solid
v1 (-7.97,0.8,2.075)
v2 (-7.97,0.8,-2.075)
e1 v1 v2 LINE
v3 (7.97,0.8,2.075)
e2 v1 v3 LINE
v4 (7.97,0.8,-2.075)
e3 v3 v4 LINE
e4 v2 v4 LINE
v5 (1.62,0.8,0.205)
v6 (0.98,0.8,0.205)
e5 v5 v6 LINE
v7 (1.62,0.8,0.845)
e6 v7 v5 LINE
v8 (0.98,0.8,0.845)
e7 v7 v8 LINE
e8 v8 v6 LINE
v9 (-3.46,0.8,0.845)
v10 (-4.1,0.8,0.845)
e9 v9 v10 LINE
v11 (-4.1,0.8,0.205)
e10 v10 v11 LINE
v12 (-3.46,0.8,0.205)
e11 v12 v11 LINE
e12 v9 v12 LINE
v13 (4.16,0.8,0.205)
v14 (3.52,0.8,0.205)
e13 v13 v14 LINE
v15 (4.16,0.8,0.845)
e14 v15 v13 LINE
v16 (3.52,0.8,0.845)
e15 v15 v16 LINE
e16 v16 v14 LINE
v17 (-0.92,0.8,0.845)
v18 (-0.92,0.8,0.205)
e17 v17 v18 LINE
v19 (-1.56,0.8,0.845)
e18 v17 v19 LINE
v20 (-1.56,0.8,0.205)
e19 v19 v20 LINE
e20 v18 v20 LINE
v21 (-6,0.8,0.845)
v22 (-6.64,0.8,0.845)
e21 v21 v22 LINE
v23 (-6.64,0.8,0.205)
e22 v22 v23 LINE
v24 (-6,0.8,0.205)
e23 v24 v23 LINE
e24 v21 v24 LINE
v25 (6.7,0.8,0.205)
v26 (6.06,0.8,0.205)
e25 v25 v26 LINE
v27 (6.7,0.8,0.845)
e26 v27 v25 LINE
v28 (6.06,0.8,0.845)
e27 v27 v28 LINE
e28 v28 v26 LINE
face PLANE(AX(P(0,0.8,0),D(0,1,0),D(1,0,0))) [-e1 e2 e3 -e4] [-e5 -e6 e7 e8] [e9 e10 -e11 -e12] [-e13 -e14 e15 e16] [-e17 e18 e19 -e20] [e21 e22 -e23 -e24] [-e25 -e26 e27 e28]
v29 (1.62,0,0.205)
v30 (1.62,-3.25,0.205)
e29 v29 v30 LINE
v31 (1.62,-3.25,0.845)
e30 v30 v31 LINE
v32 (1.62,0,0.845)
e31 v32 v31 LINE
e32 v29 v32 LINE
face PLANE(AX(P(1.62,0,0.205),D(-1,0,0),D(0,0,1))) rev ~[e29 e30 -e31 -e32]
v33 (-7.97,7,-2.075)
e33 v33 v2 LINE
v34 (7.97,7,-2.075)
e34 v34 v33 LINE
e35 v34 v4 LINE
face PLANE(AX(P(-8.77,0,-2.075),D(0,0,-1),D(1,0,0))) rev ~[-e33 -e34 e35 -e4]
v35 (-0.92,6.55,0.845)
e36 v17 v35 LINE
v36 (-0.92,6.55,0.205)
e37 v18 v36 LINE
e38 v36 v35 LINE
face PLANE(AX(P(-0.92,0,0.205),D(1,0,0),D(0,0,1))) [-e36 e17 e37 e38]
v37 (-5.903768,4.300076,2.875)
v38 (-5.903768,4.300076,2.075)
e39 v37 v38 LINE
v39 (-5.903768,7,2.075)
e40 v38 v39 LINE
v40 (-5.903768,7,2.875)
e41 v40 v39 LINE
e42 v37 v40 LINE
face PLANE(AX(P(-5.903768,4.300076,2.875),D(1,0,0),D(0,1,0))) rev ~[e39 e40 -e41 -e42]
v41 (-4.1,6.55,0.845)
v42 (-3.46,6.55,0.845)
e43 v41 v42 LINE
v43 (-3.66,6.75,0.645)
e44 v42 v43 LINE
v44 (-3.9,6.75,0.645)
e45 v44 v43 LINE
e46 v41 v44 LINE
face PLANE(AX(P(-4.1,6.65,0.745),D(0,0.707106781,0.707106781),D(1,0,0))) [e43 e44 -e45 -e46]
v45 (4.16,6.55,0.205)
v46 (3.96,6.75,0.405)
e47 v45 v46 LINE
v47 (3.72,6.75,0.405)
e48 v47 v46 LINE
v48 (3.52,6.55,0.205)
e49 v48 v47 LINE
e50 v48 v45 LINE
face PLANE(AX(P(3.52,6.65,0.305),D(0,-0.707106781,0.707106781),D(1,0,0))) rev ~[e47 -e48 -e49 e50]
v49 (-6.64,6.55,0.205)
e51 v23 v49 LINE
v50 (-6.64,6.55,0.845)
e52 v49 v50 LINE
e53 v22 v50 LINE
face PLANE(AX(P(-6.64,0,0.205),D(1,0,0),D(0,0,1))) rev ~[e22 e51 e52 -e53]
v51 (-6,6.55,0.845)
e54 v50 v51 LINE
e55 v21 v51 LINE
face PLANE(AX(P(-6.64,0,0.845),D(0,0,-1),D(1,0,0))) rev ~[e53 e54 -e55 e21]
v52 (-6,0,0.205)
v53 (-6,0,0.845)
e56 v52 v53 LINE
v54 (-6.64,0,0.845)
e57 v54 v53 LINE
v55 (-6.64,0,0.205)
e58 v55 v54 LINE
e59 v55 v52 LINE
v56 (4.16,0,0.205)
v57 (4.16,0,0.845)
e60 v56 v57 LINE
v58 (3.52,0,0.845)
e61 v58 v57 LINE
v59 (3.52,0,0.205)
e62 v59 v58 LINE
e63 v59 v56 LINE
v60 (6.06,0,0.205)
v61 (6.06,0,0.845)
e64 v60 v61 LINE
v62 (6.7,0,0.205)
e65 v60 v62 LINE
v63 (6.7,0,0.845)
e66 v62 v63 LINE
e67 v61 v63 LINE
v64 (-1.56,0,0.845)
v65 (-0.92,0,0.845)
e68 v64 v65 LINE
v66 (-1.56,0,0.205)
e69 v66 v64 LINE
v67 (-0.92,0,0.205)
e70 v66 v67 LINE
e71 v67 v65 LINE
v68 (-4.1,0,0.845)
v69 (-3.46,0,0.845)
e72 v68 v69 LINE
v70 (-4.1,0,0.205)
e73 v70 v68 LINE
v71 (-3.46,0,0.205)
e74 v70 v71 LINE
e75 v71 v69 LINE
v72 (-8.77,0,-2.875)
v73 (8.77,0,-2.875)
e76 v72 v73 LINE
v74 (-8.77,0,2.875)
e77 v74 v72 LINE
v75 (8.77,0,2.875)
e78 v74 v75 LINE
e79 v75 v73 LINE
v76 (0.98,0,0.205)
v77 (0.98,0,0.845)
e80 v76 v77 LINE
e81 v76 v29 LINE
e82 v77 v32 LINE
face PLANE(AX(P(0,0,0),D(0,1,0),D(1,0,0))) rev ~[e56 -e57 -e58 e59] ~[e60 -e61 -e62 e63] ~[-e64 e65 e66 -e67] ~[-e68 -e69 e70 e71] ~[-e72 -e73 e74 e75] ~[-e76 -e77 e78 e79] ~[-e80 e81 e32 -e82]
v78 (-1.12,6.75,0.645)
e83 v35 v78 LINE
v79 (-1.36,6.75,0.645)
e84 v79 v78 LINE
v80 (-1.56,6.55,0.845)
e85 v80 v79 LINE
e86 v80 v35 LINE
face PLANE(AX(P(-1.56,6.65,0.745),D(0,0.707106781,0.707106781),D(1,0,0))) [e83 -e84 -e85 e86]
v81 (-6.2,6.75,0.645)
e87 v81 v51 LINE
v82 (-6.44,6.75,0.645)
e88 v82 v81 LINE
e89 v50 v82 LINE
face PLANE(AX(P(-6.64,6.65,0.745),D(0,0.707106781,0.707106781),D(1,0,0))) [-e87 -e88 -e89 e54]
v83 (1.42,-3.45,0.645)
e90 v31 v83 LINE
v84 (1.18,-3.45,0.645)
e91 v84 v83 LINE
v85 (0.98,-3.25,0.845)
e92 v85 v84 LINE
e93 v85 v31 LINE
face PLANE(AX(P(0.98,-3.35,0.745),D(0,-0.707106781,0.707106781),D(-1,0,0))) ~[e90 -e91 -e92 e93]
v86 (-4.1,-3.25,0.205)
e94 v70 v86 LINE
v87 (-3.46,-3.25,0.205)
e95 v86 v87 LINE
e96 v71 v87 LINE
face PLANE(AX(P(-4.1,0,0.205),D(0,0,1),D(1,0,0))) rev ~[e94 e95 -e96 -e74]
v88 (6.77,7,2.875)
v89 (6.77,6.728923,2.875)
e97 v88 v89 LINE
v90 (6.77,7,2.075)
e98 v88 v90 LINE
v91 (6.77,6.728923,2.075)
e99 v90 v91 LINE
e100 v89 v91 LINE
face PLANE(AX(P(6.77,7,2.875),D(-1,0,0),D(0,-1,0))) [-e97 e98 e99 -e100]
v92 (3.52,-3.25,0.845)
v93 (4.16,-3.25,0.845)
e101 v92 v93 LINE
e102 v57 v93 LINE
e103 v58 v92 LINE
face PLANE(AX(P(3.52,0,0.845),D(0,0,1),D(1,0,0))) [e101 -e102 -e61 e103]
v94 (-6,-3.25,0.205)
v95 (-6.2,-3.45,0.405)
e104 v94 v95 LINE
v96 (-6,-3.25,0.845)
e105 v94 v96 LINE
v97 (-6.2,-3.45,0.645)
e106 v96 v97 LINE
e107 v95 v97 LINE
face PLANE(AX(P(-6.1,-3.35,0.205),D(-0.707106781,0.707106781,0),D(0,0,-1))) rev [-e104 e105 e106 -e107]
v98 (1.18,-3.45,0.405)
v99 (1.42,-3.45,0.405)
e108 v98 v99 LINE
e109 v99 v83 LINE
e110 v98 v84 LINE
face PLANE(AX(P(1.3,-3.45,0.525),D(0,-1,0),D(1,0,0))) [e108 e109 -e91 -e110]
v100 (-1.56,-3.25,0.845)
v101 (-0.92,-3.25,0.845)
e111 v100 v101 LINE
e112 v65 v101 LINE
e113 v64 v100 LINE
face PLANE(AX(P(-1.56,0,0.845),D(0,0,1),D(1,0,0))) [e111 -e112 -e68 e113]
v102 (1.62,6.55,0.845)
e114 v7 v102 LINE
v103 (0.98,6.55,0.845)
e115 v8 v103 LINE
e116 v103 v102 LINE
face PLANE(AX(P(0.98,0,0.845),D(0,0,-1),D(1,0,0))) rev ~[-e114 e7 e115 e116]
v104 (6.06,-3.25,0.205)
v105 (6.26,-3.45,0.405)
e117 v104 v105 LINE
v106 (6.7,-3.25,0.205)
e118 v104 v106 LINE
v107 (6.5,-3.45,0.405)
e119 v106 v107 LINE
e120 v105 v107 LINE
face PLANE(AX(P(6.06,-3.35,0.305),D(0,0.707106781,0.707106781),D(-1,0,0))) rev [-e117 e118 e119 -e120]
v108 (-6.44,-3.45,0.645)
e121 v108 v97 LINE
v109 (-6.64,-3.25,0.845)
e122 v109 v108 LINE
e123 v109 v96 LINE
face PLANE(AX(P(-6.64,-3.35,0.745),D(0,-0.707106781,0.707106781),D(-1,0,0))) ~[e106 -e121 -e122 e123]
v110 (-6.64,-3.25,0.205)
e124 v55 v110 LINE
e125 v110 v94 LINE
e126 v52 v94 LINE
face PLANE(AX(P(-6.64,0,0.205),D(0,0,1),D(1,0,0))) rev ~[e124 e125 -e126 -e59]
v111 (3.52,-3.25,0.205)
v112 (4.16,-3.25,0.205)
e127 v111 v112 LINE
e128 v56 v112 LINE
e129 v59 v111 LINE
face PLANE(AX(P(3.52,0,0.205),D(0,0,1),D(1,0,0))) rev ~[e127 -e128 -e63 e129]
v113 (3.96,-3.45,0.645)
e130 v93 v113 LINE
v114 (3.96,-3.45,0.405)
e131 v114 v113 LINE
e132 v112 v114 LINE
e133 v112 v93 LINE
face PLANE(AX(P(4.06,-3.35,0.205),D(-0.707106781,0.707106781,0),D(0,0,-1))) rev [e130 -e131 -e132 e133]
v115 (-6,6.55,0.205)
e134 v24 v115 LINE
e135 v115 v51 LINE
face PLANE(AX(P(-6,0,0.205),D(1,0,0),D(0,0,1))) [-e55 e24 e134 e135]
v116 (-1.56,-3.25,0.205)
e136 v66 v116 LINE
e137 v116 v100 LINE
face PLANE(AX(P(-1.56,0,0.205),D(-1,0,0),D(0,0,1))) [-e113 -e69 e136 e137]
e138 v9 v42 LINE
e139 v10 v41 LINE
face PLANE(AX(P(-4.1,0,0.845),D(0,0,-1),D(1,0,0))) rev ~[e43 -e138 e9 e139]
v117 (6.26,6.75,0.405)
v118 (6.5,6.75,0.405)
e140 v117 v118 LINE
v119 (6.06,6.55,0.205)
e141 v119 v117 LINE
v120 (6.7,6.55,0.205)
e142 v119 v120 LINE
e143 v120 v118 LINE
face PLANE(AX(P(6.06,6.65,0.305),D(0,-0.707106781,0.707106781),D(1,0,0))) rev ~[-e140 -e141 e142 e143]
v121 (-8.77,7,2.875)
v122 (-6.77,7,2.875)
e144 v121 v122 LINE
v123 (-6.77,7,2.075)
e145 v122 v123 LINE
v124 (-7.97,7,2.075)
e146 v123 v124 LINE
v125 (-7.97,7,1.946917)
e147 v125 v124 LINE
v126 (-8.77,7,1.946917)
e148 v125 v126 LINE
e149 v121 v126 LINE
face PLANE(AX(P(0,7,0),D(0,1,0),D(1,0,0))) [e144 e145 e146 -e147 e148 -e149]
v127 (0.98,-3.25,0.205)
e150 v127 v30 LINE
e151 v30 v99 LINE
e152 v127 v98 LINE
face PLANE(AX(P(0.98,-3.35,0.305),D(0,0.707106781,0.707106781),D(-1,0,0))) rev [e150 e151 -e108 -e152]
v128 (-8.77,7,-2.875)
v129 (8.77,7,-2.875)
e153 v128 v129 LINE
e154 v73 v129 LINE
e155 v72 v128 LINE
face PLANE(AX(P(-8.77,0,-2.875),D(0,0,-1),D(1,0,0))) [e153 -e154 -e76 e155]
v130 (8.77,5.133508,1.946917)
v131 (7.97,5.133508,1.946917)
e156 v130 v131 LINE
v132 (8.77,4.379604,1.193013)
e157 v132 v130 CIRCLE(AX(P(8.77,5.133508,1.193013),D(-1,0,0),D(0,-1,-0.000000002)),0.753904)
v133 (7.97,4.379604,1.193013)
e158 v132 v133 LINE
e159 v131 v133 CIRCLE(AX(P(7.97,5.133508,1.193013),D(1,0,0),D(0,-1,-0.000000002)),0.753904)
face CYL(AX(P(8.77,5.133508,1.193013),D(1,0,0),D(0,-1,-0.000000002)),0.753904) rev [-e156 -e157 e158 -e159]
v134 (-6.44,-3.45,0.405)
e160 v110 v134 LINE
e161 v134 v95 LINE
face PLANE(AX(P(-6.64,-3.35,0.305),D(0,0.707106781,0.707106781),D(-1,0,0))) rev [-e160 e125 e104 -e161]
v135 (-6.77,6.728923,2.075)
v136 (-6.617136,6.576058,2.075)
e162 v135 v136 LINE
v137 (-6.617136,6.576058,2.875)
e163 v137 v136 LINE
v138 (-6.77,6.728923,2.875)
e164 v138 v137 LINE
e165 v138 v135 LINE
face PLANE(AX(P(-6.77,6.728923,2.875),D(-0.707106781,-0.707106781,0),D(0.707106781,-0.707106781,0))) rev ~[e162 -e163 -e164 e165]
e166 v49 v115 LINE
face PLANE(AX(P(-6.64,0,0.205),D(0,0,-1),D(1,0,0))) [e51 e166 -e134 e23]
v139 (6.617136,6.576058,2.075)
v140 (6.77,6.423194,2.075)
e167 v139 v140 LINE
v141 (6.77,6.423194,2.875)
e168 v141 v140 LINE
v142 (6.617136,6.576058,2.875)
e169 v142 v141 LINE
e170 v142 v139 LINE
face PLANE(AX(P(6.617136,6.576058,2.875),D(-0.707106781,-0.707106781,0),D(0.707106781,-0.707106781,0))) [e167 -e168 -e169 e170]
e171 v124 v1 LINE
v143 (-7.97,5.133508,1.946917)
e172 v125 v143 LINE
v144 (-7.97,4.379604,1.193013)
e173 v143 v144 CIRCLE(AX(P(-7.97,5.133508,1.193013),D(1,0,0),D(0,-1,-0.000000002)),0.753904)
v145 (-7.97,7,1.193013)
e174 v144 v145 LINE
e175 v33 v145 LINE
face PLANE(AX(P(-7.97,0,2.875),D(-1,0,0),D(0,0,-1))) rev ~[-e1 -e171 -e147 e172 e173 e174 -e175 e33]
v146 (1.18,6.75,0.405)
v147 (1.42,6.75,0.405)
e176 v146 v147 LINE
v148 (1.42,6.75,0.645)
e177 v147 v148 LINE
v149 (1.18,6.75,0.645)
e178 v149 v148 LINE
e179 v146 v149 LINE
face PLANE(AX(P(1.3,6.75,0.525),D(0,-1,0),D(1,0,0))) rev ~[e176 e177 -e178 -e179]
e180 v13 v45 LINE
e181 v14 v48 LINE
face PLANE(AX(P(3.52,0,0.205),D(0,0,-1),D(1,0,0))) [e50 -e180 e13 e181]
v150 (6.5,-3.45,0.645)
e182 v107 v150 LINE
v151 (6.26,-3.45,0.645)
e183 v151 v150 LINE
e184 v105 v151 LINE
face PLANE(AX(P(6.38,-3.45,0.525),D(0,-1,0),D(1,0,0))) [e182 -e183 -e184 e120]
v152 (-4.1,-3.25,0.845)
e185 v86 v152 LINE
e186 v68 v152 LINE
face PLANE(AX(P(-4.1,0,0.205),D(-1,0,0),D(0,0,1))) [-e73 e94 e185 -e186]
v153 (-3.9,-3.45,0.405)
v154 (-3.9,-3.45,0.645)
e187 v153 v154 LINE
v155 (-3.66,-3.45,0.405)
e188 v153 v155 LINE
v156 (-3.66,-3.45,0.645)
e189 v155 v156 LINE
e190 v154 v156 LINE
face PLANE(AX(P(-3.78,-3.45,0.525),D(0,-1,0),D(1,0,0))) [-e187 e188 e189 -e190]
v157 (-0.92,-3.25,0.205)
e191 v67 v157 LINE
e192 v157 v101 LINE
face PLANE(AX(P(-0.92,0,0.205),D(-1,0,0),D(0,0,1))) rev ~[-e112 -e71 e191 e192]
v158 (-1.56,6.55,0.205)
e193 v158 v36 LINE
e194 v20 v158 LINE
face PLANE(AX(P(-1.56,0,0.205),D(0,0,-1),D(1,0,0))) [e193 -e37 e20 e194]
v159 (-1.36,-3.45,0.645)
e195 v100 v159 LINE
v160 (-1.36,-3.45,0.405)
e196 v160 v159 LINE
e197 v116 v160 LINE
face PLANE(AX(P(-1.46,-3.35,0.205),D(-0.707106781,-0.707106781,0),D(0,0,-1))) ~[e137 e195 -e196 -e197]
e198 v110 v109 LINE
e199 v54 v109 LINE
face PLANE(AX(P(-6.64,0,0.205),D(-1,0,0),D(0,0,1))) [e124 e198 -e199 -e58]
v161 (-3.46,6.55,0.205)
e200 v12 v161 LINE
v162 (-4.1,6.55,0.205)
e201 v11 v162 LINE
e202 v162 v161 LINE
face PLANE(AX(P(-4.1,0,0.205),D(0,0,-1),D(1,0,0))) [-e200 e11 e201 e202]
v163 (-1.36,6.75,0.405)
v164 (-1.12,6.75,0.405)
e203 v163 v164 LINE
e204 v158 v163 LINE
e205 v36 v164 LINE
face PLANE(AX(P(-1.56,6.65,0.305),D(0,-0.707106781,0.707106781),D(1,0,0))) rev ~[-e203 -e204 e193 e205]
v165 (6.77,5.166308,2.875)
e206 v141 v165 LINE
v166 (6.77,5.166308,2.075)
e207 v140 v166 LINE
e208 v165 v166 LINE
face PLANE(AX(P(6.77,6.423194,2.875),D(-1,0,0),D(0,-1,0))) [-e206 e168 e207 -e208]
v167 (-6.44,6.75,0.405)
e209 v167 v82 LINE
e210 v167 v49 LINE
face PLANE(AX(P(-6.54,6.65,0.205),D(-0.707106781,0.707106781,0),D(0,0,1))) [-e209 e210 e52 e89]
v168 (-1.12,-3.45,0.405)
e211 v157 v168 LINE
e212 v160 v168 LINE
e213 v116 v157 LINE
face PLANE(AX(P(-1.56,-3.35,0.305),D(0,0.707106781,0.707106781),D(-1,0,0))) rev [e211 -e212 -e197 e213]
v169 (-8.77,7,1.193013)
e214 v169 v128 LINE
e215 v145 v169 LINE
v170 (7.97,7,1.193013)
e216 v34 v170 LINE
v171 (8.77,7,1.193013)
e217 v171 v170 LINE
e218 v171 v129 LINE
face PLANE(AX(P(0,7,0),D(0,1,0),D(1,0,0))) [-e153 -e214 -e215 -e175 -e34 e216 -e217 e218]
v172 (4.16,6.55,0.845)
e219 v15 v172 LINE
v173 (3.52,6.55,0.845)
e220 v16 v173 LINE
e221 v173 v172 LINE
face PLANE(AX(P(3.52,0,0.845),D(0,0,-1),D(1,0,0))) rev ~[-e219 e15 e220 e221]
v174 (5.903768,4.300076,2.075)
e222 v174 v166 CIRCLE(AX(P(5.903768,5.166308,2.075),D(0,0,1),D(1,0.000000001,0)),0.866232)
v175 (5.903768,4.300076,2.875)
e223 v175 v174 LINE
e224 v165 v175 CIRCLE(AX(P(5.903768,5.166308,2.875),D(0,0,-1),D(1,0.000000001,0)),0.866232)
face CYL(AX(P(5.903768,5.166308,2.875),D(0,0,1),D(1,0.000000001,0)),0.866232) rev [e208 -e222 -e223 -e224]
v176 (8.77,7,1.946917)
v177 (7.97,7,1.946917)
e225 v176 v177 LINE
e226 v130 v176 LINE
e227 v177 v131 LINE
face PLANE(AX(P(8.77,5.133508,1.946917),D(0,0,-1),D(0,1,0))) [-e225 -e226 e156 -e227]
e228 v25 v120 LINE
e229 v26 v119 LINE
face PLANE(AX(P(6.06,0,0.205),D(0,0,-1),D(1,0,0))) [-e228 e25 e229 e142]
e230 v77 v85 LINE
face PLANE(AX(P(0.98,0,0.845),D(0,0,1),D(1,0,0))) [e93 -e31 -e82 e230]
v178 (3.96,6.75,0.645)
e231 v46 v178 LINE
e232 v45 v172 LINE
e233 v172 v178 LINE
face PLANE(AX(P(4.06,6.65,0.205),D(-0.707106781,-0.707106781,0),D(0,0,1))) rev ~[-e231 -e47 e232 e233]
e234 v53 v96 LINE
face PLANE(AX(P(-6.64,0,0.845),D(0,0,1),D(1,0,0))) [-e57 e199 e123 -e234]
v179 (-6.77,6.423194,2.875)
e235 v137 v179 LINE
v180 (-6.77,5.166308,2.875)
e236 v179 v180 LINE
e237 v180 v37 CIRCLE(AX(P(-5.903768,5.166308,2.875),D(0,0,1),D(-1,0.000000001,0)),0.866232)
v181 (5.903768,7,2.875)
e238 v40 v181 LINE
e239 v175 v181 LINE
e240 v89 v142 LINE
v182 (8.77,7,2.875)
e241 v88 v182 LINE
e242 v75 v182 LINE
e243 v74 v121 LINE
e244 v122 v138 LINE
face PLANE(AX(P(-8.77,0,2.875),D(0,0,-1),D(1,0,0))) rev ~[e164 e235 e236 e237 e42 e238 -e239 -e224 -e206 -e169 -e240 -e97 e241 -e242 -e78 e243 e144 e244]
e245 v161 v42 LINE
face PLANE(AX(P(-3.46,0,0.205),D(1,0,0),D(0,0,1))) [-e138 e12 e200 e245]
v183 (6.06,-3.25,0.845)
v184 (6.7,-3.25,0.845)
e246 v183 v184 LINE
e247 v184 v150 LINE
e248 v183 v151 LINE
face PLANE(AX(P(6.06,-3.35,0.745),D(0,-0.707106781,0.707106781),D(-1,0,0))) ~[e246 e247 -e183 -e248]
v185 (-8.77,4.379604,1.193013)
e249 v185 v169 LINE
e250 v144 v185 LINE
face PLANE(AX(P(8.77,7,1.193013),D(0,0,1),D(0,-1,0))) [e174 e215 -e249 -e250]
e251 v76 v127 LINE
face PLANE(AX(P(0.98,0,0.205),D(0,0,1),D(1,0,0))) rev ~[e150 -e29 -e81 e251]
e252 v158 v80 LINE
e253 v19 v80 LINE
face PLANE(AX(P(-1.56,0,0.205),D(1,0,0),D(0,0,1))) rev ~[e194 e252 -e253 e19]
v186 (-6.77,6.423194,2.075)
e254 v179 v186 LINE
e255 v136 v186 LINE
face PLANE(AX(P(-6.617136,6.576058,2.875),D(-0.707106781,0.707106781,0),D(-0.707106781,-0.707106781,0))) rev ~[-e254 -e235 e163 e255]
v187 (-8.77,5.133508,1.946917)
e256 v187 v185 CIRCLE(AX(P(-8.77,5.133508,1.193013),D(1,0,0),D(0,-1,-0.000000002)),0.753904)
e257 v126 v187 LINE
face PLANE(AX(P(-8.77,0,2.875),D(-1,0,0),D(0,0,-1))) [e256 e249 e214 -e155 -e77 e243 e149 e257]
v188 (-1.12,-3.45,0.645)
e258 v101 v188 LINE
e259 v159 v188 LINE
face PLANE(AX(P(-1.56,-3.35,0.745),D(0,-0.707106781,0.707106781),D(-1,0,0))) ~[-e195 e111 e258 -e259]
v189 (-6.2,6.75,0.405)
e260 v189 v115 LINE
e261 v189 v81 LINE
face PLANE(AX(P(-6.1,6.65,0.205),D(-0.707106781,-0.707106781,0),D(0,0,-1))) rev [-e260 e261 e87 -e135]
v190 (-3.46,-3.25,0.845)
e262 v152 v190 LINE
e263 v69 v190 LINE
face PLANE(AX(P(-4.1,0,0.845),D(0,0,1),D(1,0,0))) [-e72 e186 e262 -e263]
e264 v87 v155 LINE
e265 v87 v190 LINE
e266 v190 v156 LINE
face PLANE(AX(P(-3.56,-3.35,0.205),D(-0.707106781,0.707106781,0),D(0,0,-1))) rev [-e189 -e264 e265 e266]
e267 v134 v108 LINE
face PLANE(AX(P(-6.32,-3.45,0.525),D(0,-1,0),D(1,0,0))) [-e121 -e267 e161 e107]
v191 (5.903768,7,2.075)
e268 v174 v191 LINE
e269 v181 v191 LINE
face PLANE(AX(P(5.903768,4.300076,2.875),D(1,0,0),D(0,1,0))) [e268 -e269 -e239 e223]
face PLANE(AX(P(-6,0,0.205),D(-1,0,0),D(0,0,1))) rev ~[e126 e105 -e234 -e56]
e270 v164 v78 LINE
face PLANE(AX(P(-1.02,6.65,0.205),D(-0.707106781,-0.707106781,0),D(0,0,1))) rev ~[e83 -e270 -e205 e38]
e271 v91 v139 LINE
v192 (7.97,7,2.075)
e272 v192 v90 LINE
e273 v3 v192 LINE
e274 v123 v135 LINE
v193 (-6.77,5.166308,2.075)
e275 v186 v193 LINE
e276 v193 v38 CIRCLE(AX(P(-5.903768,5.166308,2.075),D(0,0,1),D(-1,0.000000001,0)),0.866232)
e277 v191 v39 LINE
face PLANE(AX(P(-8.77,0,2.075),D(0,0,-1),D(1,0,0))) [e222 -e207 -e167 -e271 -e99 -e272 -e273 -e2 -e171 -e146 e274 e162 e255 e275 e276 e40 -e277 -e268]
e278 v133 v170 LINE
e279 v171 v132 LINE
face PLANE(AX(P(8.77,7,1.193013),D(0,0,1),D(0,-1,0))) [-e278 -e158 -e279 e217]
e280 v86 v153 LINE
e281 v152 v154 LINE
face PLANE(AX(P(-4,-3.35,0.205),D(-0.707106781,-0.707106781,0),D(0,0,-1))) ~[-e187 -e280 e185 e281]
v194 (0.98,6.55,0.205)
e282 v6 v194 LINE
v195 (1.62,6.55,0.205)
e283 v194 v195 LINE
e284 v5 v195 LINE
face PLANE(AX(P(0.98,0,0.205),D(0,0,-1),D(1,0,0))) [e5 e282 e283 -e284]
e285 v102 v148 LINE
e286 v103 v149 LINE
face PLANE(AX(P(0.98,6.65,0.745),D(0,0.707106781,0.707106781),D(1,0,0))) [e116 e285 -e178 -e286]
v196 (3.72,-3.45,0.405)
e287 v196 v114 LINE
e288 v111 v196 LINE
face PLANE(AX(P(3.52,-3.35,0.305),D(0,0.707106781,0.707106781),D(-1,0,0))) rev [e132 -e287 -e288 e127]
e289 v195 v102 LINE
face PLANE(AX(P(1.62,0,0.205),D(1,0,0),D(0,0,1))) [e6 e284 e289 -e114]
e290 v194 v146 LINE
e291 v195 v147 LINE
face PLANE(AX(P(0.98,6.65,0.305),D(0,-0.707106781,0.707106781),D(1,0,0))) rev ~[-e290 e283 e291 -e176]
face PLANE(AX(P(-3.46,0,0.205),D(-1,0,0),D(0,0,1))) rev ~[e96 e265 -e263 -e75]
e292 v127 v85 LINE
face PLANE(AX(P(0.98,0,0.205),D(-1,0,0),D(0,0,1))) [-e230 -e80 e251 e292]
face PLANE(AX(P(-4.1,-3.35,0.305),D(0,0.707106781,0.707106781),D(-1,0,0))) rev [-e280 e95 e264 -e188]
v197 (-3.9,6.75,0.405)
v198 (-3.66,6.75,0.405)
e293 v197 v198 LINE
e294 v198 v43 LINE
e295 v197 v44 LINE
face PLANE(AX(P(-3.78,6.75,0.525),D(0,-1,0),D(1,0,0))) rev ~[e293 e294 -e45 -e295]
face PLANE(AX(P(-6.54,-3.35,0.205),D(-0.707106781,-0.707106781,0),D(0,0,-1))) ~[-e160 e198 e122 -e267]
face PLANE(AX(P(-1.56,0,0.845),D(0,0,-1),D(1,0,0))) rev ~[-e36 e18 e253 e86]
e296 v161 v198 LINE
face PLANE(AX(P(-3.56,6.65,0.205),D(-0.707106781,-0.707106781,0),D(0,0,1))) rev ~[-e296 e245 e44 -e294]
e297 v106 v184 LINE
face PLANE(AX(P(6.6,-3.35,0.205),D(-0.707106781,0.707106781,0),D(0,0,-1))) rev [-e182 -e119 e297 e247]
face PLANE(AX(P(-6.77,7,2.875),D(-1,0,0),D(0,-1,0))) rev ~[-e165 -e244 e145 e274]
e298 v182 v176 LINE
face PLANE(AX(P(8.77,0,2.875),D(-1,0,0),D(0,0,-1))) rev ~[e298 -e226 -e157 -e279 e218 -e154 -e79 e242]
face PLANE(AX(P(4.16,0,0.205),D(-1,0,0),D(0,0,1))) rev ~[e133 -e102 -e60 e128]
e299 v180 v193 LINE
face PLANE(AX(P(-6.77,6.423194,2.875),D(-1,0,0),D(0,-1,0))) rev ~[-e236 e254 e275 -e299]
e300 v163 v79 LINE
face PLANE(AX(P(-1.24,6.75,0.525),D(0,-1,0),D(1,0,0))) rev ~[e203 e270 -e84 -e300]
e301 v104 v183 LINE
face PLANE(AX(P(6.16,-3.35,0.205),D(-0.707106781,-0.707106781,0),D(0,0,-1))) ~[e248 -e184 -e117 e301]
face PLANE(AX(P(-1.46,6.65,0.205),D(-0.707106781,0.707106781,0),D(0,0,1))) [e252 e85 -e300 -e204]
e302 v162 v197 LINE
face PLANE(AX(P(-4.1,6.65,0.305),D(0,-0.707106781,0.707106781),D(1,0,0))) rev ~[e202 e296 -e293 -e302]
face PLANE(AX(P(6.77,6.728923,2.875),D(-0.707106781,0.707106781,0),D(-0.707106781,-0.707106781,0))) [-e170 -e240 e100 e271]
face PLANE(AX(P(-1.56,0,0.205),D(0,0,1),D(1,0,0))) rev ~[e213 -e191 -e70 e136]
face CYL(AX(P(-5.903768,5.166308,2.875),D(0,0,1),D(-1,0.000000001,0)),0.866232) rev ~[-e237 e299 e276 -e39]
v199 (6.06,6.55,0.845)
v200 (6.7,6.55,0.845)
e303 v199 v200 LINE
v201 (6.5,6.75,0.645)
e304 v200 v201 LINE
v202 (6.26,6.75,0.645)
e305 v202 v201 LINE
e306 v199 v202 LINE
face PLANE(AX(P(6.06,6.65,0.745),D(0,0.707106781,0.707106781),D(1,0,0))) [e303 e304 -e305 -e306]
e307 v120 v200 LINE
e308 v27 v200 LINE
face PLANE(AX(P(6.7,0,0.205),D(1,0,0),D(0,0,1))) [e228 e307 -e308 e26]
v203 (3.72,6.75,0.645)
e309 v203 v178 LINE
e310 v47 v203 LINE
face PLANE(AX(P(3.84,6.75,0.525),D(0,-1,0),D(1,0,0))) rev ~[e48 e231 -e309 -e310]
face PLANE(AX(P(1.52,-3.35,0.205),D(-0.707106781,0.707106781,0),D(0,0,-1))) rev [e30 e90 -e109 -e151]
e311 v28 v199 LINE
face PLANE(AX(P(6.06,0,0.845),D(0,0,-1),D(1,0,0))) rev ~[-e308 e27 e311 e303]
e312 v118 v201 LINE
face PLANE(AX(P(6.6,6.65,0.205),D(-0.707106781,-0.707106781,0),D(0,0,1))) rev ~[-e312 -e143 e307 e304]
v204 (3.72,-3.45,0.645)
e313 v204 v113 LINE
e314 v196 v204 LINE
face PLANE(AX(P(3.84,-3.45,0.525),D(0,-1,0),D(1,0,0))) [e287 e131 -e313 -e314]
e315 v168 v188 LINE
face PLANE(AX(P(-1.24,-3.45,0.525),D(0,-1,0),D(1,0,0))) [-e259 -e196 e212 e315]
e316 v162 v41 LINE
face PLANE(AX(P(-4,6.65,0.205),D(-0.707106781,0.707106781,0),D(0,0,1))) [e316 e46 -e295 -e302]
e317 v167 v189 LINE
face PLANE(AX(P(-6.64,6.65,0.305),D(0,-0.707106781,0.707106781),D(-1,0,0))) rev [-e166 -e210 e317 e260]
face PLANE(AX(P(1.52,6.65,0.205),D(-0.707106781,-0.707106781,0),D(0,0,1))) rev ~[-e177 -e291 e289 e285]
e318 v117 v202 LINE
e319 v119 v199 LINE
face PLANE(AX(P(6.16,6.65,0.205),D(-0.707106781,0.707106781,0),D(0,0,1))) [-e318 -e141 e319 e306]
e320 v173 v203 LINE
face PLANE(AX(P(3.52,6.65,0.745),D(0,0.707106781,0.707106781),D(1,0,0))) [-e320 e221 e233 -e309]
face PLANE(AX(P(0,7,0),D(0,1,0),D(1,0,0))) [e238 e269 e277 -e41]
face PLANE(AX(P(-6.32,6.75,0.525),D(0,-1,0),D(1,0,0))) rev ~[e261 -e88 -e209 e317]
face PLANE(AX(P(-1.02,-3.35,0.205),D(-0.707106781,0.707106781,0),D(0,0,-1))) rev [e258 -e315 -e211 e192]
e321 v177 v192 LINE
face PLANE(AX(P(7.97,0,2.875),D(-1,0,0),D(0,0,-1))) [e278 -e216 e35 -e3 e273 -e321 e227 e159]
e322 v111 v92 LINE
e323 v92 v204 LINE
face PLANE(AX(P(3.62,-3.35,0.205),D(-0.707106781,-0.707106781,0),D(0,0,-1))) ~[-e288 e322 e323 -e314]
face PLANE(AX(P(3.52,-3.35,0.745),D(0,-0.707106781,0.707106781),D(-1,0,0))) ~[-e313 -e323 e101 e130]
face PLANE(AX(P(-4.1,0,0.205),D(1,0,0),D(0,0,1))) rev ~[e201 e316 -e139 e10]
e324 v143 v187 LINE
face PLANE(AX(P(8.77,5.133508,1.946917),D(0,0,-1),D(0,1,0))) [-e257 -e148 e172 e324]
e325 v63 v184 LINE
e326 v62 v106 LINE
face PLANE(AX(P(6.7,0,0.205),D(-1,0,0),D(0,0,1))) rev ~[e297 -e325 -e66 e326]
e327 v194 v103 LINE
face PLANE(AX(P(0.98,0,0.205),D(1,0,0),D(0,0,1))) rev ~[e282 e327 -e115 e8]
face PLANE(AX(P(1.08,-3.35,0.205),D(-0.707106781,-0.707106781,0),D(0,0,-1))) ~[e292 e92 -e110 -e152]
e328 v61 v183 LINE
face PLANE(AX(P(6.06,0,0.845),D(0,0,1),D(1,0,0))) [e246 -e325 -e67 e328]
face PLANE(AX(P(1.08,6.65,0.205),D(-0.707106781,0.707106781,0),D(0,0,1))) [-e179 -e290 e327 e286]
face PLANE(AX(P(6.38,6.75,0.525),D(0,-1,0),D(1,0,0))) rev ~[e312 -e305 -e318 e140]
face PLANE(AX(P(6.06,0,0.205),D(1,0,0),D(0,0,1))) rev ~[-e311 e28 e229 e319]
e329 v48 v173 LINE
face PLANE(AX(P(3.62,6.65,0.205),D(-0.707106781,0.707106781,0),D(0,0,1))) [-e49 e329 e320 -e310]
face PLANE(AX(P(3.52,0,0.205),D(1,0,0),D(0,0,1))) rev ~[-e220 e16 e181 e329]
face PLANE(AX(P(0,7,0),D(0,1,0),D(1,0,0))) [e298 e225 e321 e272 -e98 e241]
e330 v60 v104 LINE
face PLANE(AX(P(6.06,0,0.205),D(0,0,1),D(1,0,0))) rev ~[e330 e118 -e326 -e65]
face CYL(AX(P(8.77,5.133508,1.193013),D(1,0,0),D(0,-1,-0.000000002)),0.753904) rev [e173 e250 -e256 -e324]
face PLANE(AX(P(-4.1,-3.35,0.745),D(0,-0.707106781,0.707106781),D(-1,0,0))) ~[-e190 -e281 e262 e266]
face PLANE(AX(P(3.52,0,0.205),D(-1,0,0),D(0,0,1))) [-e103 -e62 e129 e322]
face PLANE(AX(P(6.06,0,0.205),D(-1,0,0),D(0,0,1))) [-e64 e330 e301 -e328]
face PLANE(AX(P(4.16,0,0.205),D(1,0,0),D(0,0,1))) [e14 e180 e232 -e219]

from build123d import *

# Parameters (mm, degrees)
SKETCH1_W                = 17.54
SKETCH1_H                = 5.75
BOSS_EXTRUDE1_DEPTH      = 7
SHELL1_T                 = -0.8
CUT_EXTRUDE1_DEPTH       = 18.54
CUT_EXTRUDE2_REACH       = 7.75
SKETCH4_W                = 0.64
SKETCH4_H                = 0.64
BOSS_EXTRUDE2_DEPTH      = 3.45
BOSS_EXTRUDE2_DEPTH_BACK = 6.75
CHAMFER1_SIZE            = 0.2


with BuildPart() as part:
    # Sketch1 → Boss-Extrude1 (new body)
    with BuildSketch(Plane(origin=(0, 0, 0), x_dir=(1, 0, 0), z_dir=(0, 1, 0))):
        Rectangle(SKETCH1_W, SKETCH1_H)
    extrude(amount=BOSS_EXTRUDE1_DEPTH)

    # Shell1
    shell1_openings = [part.faces().sort_by_distance(p)[0] for p in [
        (0, 7, 0),
    ]]
    offset(amount=SHELL1_T, openings=shell1_openings, kind=Kind.INTERSECTION)

    # Sketch2 → Cut-Extrude1 (cut, through all)
    with BuildSketch(Plane(origin=(8.77, 0, 0), x_dir=(0, 0, -1), z_dir=(1, 0, 0))):
        with BuildLine():
            Line((-1.19301282, 7), (-1.19301282, 4.379603984))
            ThreePointArc((-1.19301282, 4.379603984), (-1.72610374, 4.600417472), (-1.946917229, 5.133508392))
            Line((-1.946917229, 5.133508392), (-1.946917229, 7))
            Line((-1.946917229, 7), (-1.19301282, 7))
        make_face()
    extrude(amount=-CUT_EXTRUDE1_DEPTH, mode=Mode.SUBTRACT)

    # Sketch3 → Cut-Extrude2 (cut, up to next)
    with BuildSketch(Plane.XY.offset(2.875), mode=Mode.PRIVATE) as cut_extrude2_sk1:
        with BuildLine():
            Line((-6.77, 7), (-6.77, 6.728922615))
            Line((-6.77, 6.728922615), (-6.617135549, 6.576058164))
            Line((-6.617135549, 6.576058164), (-6.77, 6.423193713))
            Line((-6.77, 6.423193713), (-6.77, 5.166308225))
            ThreePointArc((-6.77, 5.166308225), (-6.516286554, 4.553789782), (-5.90376811, 4.300076336))
            Line((-5.90376811, 4.300076336), (-5.90376811, 7))
            Line((-5.90376811, 7), (-6.77, 7))
        make_face()
    cut_extrude2_tool1 = extrude(cut_extrude2_sk1.sketch, amount=-CUT_EXTRUDE2_REACH, mode=Mode.PRIVATE) & part.part
    add(cut_extrude2_tool1.solids().sort_by_distance((-6.314828, 5.726435, 2.875))[0], mode=Mode.SUBTRACT)
    # Sketch3 → Cut-Extrude2 (cut, up to next)
    with BuildSketch(Plane.XY.offset(2.875), mode=Mode.PRIVATE) as cut_extrude2_sk2:
        with BuildLine():
            Line((5.90376811, 7), (6.77, 7))
            Line((6.77, 7), (6.77, 6.728922615))
            Line((6.77, 6.728922615), (6.617135549, 6.576058164))
            Line((6.617135549, 6.576058164), (6.77, 6.423193713))
            Line((6.77, 6.423193713), (6.77, 5.166308225))
            ThreePointArc((6.77, 5.166308225), (6.516286554, 4.553789782), (5.90376811, 4.300076336))
            Line((5.90376811, 4.300076336), (5.90376811, 7))
        make_face()
    cut_extrude2_tool2 = extrude(cut_extrude2_sk2.sketch, amount=-CUT_EXTRUDE2_REACH, mode=Mode.PRIVATE) & part.part
    add(cut_extrude2_tool2.solids().sort_by_distance((6.314828, 5.726435, 2.875))[0], mode=Mode.SUBTRACT)

    # Sketch4 → Boss-Extrude2 (add, two sides)
    with BuildSketch(Plane.XZ) as boss_extrude2_sk:
        with Locations((-6.32, 0.525)):
            Rectangle(SKETCH4_W, SKETCH4_H)
        with Locations((-3.78, 0.525)):
            Rectangle(SKETCH4_W, SKETCH4_H)
        with Locations((-1.24, 0.525)):
            Rectangle(SKETCH4_W, SKETCH4_H)
        with Locations((1.3, 0.525)):
            Rectangle(SKETCH4_W, SKETCH4_H)
        with Locations((3.84, 0.525)):
            Rectangle(SKETCH4_W, SKETCH4_H)
        with Locations((6.38, 0.525)):
            Rectangle(SKETCH4_W, SKETCH4_H)
    extrude(amount=BOSS_EXTRUDE2_DEPTH)
    extrude(boss_extrude2_sk.sketch, amount=-BOSS_EXTRUDE2_DEPTH_BACK)

    # Chamfer1
    chamfer1_edges = [part.edges().sort_by_distance(p)[0] for p in [
        (-6, 6.75, 0.525),
        (-6.32, 6.75, 0.205),
        (-6.64, 6.75, 0.525),
        (-6.32, 6.75, 0.845),
        (-6, -3.45, 0.525),
        (-6.32, -3.45, 0.845),
        (-6.64, -3.45, 0.525),
        (-6.32, -3.45, 0.205),
        (-3.78, 6.75, 0.205),
        (-4.1, 6.75, 0.525),
        (-3.78, 6.75, 0.845),
        (-3.46, 6.75, 0.525),
        (-3.78, -3.45, 0.205),
        (-3.46, -3.45, 0.525),
        (-3.78, -3.45, 0.845),
        (-4.1, -3.45, 0.525),
        (-1.24, 6.75, 0.205),
        (-1.56, 6.75, 0.525),
        (-1.24, 6.75, 0.845),
        (-0.92, 6.75, 0.525),
        (-1.24, -3.45, 0.205),
        (-0.92, -3.45, 0.525),
        (-1.24, -3.45, 0.845),
        (-1.56, -3.45, 0.525),
        (1.3, 6.75, 0.205),
        (0.98, 6.75, 0.525),
        (1.3, 6.75, 0.845),
        (1.62, 6.75, 0.525),
        (1.3, -3.45, 0.205),
        (1.62, -3.45, 0.525),
        (1.3, -3.45, 0.845),
        (0.98, -3.45, 0.525),
        (3.84, 6.75, 0.205),
        (3.52, 6.75, 0.525),
        (3.84, 6.75, 0.845),
        (4.16, 6.75, 0.525),
        (3.84, -3.45, 0.205),
        (4.16, -3.45, 0.525),
        (3.84, -3.45, 0.845),
        (3.52, -3.45, 0.525),
        (6.38, 6.75, 0.205),
        (6.06, 6.75, 0.525),
        (6.38, 6.75, 0.845),
        (6.7, 6.75, 0.525),
        (6.38, -3.45, 0.205),
        (6.7, -3.45, 0.525),
        (6.38, -3.45, 0.845),
        (6.06, -3.45, 0.525),
    ]]
    chamfer(chamfer1_edges, length=CHAMFER1_SIZE)


solid = part.part
